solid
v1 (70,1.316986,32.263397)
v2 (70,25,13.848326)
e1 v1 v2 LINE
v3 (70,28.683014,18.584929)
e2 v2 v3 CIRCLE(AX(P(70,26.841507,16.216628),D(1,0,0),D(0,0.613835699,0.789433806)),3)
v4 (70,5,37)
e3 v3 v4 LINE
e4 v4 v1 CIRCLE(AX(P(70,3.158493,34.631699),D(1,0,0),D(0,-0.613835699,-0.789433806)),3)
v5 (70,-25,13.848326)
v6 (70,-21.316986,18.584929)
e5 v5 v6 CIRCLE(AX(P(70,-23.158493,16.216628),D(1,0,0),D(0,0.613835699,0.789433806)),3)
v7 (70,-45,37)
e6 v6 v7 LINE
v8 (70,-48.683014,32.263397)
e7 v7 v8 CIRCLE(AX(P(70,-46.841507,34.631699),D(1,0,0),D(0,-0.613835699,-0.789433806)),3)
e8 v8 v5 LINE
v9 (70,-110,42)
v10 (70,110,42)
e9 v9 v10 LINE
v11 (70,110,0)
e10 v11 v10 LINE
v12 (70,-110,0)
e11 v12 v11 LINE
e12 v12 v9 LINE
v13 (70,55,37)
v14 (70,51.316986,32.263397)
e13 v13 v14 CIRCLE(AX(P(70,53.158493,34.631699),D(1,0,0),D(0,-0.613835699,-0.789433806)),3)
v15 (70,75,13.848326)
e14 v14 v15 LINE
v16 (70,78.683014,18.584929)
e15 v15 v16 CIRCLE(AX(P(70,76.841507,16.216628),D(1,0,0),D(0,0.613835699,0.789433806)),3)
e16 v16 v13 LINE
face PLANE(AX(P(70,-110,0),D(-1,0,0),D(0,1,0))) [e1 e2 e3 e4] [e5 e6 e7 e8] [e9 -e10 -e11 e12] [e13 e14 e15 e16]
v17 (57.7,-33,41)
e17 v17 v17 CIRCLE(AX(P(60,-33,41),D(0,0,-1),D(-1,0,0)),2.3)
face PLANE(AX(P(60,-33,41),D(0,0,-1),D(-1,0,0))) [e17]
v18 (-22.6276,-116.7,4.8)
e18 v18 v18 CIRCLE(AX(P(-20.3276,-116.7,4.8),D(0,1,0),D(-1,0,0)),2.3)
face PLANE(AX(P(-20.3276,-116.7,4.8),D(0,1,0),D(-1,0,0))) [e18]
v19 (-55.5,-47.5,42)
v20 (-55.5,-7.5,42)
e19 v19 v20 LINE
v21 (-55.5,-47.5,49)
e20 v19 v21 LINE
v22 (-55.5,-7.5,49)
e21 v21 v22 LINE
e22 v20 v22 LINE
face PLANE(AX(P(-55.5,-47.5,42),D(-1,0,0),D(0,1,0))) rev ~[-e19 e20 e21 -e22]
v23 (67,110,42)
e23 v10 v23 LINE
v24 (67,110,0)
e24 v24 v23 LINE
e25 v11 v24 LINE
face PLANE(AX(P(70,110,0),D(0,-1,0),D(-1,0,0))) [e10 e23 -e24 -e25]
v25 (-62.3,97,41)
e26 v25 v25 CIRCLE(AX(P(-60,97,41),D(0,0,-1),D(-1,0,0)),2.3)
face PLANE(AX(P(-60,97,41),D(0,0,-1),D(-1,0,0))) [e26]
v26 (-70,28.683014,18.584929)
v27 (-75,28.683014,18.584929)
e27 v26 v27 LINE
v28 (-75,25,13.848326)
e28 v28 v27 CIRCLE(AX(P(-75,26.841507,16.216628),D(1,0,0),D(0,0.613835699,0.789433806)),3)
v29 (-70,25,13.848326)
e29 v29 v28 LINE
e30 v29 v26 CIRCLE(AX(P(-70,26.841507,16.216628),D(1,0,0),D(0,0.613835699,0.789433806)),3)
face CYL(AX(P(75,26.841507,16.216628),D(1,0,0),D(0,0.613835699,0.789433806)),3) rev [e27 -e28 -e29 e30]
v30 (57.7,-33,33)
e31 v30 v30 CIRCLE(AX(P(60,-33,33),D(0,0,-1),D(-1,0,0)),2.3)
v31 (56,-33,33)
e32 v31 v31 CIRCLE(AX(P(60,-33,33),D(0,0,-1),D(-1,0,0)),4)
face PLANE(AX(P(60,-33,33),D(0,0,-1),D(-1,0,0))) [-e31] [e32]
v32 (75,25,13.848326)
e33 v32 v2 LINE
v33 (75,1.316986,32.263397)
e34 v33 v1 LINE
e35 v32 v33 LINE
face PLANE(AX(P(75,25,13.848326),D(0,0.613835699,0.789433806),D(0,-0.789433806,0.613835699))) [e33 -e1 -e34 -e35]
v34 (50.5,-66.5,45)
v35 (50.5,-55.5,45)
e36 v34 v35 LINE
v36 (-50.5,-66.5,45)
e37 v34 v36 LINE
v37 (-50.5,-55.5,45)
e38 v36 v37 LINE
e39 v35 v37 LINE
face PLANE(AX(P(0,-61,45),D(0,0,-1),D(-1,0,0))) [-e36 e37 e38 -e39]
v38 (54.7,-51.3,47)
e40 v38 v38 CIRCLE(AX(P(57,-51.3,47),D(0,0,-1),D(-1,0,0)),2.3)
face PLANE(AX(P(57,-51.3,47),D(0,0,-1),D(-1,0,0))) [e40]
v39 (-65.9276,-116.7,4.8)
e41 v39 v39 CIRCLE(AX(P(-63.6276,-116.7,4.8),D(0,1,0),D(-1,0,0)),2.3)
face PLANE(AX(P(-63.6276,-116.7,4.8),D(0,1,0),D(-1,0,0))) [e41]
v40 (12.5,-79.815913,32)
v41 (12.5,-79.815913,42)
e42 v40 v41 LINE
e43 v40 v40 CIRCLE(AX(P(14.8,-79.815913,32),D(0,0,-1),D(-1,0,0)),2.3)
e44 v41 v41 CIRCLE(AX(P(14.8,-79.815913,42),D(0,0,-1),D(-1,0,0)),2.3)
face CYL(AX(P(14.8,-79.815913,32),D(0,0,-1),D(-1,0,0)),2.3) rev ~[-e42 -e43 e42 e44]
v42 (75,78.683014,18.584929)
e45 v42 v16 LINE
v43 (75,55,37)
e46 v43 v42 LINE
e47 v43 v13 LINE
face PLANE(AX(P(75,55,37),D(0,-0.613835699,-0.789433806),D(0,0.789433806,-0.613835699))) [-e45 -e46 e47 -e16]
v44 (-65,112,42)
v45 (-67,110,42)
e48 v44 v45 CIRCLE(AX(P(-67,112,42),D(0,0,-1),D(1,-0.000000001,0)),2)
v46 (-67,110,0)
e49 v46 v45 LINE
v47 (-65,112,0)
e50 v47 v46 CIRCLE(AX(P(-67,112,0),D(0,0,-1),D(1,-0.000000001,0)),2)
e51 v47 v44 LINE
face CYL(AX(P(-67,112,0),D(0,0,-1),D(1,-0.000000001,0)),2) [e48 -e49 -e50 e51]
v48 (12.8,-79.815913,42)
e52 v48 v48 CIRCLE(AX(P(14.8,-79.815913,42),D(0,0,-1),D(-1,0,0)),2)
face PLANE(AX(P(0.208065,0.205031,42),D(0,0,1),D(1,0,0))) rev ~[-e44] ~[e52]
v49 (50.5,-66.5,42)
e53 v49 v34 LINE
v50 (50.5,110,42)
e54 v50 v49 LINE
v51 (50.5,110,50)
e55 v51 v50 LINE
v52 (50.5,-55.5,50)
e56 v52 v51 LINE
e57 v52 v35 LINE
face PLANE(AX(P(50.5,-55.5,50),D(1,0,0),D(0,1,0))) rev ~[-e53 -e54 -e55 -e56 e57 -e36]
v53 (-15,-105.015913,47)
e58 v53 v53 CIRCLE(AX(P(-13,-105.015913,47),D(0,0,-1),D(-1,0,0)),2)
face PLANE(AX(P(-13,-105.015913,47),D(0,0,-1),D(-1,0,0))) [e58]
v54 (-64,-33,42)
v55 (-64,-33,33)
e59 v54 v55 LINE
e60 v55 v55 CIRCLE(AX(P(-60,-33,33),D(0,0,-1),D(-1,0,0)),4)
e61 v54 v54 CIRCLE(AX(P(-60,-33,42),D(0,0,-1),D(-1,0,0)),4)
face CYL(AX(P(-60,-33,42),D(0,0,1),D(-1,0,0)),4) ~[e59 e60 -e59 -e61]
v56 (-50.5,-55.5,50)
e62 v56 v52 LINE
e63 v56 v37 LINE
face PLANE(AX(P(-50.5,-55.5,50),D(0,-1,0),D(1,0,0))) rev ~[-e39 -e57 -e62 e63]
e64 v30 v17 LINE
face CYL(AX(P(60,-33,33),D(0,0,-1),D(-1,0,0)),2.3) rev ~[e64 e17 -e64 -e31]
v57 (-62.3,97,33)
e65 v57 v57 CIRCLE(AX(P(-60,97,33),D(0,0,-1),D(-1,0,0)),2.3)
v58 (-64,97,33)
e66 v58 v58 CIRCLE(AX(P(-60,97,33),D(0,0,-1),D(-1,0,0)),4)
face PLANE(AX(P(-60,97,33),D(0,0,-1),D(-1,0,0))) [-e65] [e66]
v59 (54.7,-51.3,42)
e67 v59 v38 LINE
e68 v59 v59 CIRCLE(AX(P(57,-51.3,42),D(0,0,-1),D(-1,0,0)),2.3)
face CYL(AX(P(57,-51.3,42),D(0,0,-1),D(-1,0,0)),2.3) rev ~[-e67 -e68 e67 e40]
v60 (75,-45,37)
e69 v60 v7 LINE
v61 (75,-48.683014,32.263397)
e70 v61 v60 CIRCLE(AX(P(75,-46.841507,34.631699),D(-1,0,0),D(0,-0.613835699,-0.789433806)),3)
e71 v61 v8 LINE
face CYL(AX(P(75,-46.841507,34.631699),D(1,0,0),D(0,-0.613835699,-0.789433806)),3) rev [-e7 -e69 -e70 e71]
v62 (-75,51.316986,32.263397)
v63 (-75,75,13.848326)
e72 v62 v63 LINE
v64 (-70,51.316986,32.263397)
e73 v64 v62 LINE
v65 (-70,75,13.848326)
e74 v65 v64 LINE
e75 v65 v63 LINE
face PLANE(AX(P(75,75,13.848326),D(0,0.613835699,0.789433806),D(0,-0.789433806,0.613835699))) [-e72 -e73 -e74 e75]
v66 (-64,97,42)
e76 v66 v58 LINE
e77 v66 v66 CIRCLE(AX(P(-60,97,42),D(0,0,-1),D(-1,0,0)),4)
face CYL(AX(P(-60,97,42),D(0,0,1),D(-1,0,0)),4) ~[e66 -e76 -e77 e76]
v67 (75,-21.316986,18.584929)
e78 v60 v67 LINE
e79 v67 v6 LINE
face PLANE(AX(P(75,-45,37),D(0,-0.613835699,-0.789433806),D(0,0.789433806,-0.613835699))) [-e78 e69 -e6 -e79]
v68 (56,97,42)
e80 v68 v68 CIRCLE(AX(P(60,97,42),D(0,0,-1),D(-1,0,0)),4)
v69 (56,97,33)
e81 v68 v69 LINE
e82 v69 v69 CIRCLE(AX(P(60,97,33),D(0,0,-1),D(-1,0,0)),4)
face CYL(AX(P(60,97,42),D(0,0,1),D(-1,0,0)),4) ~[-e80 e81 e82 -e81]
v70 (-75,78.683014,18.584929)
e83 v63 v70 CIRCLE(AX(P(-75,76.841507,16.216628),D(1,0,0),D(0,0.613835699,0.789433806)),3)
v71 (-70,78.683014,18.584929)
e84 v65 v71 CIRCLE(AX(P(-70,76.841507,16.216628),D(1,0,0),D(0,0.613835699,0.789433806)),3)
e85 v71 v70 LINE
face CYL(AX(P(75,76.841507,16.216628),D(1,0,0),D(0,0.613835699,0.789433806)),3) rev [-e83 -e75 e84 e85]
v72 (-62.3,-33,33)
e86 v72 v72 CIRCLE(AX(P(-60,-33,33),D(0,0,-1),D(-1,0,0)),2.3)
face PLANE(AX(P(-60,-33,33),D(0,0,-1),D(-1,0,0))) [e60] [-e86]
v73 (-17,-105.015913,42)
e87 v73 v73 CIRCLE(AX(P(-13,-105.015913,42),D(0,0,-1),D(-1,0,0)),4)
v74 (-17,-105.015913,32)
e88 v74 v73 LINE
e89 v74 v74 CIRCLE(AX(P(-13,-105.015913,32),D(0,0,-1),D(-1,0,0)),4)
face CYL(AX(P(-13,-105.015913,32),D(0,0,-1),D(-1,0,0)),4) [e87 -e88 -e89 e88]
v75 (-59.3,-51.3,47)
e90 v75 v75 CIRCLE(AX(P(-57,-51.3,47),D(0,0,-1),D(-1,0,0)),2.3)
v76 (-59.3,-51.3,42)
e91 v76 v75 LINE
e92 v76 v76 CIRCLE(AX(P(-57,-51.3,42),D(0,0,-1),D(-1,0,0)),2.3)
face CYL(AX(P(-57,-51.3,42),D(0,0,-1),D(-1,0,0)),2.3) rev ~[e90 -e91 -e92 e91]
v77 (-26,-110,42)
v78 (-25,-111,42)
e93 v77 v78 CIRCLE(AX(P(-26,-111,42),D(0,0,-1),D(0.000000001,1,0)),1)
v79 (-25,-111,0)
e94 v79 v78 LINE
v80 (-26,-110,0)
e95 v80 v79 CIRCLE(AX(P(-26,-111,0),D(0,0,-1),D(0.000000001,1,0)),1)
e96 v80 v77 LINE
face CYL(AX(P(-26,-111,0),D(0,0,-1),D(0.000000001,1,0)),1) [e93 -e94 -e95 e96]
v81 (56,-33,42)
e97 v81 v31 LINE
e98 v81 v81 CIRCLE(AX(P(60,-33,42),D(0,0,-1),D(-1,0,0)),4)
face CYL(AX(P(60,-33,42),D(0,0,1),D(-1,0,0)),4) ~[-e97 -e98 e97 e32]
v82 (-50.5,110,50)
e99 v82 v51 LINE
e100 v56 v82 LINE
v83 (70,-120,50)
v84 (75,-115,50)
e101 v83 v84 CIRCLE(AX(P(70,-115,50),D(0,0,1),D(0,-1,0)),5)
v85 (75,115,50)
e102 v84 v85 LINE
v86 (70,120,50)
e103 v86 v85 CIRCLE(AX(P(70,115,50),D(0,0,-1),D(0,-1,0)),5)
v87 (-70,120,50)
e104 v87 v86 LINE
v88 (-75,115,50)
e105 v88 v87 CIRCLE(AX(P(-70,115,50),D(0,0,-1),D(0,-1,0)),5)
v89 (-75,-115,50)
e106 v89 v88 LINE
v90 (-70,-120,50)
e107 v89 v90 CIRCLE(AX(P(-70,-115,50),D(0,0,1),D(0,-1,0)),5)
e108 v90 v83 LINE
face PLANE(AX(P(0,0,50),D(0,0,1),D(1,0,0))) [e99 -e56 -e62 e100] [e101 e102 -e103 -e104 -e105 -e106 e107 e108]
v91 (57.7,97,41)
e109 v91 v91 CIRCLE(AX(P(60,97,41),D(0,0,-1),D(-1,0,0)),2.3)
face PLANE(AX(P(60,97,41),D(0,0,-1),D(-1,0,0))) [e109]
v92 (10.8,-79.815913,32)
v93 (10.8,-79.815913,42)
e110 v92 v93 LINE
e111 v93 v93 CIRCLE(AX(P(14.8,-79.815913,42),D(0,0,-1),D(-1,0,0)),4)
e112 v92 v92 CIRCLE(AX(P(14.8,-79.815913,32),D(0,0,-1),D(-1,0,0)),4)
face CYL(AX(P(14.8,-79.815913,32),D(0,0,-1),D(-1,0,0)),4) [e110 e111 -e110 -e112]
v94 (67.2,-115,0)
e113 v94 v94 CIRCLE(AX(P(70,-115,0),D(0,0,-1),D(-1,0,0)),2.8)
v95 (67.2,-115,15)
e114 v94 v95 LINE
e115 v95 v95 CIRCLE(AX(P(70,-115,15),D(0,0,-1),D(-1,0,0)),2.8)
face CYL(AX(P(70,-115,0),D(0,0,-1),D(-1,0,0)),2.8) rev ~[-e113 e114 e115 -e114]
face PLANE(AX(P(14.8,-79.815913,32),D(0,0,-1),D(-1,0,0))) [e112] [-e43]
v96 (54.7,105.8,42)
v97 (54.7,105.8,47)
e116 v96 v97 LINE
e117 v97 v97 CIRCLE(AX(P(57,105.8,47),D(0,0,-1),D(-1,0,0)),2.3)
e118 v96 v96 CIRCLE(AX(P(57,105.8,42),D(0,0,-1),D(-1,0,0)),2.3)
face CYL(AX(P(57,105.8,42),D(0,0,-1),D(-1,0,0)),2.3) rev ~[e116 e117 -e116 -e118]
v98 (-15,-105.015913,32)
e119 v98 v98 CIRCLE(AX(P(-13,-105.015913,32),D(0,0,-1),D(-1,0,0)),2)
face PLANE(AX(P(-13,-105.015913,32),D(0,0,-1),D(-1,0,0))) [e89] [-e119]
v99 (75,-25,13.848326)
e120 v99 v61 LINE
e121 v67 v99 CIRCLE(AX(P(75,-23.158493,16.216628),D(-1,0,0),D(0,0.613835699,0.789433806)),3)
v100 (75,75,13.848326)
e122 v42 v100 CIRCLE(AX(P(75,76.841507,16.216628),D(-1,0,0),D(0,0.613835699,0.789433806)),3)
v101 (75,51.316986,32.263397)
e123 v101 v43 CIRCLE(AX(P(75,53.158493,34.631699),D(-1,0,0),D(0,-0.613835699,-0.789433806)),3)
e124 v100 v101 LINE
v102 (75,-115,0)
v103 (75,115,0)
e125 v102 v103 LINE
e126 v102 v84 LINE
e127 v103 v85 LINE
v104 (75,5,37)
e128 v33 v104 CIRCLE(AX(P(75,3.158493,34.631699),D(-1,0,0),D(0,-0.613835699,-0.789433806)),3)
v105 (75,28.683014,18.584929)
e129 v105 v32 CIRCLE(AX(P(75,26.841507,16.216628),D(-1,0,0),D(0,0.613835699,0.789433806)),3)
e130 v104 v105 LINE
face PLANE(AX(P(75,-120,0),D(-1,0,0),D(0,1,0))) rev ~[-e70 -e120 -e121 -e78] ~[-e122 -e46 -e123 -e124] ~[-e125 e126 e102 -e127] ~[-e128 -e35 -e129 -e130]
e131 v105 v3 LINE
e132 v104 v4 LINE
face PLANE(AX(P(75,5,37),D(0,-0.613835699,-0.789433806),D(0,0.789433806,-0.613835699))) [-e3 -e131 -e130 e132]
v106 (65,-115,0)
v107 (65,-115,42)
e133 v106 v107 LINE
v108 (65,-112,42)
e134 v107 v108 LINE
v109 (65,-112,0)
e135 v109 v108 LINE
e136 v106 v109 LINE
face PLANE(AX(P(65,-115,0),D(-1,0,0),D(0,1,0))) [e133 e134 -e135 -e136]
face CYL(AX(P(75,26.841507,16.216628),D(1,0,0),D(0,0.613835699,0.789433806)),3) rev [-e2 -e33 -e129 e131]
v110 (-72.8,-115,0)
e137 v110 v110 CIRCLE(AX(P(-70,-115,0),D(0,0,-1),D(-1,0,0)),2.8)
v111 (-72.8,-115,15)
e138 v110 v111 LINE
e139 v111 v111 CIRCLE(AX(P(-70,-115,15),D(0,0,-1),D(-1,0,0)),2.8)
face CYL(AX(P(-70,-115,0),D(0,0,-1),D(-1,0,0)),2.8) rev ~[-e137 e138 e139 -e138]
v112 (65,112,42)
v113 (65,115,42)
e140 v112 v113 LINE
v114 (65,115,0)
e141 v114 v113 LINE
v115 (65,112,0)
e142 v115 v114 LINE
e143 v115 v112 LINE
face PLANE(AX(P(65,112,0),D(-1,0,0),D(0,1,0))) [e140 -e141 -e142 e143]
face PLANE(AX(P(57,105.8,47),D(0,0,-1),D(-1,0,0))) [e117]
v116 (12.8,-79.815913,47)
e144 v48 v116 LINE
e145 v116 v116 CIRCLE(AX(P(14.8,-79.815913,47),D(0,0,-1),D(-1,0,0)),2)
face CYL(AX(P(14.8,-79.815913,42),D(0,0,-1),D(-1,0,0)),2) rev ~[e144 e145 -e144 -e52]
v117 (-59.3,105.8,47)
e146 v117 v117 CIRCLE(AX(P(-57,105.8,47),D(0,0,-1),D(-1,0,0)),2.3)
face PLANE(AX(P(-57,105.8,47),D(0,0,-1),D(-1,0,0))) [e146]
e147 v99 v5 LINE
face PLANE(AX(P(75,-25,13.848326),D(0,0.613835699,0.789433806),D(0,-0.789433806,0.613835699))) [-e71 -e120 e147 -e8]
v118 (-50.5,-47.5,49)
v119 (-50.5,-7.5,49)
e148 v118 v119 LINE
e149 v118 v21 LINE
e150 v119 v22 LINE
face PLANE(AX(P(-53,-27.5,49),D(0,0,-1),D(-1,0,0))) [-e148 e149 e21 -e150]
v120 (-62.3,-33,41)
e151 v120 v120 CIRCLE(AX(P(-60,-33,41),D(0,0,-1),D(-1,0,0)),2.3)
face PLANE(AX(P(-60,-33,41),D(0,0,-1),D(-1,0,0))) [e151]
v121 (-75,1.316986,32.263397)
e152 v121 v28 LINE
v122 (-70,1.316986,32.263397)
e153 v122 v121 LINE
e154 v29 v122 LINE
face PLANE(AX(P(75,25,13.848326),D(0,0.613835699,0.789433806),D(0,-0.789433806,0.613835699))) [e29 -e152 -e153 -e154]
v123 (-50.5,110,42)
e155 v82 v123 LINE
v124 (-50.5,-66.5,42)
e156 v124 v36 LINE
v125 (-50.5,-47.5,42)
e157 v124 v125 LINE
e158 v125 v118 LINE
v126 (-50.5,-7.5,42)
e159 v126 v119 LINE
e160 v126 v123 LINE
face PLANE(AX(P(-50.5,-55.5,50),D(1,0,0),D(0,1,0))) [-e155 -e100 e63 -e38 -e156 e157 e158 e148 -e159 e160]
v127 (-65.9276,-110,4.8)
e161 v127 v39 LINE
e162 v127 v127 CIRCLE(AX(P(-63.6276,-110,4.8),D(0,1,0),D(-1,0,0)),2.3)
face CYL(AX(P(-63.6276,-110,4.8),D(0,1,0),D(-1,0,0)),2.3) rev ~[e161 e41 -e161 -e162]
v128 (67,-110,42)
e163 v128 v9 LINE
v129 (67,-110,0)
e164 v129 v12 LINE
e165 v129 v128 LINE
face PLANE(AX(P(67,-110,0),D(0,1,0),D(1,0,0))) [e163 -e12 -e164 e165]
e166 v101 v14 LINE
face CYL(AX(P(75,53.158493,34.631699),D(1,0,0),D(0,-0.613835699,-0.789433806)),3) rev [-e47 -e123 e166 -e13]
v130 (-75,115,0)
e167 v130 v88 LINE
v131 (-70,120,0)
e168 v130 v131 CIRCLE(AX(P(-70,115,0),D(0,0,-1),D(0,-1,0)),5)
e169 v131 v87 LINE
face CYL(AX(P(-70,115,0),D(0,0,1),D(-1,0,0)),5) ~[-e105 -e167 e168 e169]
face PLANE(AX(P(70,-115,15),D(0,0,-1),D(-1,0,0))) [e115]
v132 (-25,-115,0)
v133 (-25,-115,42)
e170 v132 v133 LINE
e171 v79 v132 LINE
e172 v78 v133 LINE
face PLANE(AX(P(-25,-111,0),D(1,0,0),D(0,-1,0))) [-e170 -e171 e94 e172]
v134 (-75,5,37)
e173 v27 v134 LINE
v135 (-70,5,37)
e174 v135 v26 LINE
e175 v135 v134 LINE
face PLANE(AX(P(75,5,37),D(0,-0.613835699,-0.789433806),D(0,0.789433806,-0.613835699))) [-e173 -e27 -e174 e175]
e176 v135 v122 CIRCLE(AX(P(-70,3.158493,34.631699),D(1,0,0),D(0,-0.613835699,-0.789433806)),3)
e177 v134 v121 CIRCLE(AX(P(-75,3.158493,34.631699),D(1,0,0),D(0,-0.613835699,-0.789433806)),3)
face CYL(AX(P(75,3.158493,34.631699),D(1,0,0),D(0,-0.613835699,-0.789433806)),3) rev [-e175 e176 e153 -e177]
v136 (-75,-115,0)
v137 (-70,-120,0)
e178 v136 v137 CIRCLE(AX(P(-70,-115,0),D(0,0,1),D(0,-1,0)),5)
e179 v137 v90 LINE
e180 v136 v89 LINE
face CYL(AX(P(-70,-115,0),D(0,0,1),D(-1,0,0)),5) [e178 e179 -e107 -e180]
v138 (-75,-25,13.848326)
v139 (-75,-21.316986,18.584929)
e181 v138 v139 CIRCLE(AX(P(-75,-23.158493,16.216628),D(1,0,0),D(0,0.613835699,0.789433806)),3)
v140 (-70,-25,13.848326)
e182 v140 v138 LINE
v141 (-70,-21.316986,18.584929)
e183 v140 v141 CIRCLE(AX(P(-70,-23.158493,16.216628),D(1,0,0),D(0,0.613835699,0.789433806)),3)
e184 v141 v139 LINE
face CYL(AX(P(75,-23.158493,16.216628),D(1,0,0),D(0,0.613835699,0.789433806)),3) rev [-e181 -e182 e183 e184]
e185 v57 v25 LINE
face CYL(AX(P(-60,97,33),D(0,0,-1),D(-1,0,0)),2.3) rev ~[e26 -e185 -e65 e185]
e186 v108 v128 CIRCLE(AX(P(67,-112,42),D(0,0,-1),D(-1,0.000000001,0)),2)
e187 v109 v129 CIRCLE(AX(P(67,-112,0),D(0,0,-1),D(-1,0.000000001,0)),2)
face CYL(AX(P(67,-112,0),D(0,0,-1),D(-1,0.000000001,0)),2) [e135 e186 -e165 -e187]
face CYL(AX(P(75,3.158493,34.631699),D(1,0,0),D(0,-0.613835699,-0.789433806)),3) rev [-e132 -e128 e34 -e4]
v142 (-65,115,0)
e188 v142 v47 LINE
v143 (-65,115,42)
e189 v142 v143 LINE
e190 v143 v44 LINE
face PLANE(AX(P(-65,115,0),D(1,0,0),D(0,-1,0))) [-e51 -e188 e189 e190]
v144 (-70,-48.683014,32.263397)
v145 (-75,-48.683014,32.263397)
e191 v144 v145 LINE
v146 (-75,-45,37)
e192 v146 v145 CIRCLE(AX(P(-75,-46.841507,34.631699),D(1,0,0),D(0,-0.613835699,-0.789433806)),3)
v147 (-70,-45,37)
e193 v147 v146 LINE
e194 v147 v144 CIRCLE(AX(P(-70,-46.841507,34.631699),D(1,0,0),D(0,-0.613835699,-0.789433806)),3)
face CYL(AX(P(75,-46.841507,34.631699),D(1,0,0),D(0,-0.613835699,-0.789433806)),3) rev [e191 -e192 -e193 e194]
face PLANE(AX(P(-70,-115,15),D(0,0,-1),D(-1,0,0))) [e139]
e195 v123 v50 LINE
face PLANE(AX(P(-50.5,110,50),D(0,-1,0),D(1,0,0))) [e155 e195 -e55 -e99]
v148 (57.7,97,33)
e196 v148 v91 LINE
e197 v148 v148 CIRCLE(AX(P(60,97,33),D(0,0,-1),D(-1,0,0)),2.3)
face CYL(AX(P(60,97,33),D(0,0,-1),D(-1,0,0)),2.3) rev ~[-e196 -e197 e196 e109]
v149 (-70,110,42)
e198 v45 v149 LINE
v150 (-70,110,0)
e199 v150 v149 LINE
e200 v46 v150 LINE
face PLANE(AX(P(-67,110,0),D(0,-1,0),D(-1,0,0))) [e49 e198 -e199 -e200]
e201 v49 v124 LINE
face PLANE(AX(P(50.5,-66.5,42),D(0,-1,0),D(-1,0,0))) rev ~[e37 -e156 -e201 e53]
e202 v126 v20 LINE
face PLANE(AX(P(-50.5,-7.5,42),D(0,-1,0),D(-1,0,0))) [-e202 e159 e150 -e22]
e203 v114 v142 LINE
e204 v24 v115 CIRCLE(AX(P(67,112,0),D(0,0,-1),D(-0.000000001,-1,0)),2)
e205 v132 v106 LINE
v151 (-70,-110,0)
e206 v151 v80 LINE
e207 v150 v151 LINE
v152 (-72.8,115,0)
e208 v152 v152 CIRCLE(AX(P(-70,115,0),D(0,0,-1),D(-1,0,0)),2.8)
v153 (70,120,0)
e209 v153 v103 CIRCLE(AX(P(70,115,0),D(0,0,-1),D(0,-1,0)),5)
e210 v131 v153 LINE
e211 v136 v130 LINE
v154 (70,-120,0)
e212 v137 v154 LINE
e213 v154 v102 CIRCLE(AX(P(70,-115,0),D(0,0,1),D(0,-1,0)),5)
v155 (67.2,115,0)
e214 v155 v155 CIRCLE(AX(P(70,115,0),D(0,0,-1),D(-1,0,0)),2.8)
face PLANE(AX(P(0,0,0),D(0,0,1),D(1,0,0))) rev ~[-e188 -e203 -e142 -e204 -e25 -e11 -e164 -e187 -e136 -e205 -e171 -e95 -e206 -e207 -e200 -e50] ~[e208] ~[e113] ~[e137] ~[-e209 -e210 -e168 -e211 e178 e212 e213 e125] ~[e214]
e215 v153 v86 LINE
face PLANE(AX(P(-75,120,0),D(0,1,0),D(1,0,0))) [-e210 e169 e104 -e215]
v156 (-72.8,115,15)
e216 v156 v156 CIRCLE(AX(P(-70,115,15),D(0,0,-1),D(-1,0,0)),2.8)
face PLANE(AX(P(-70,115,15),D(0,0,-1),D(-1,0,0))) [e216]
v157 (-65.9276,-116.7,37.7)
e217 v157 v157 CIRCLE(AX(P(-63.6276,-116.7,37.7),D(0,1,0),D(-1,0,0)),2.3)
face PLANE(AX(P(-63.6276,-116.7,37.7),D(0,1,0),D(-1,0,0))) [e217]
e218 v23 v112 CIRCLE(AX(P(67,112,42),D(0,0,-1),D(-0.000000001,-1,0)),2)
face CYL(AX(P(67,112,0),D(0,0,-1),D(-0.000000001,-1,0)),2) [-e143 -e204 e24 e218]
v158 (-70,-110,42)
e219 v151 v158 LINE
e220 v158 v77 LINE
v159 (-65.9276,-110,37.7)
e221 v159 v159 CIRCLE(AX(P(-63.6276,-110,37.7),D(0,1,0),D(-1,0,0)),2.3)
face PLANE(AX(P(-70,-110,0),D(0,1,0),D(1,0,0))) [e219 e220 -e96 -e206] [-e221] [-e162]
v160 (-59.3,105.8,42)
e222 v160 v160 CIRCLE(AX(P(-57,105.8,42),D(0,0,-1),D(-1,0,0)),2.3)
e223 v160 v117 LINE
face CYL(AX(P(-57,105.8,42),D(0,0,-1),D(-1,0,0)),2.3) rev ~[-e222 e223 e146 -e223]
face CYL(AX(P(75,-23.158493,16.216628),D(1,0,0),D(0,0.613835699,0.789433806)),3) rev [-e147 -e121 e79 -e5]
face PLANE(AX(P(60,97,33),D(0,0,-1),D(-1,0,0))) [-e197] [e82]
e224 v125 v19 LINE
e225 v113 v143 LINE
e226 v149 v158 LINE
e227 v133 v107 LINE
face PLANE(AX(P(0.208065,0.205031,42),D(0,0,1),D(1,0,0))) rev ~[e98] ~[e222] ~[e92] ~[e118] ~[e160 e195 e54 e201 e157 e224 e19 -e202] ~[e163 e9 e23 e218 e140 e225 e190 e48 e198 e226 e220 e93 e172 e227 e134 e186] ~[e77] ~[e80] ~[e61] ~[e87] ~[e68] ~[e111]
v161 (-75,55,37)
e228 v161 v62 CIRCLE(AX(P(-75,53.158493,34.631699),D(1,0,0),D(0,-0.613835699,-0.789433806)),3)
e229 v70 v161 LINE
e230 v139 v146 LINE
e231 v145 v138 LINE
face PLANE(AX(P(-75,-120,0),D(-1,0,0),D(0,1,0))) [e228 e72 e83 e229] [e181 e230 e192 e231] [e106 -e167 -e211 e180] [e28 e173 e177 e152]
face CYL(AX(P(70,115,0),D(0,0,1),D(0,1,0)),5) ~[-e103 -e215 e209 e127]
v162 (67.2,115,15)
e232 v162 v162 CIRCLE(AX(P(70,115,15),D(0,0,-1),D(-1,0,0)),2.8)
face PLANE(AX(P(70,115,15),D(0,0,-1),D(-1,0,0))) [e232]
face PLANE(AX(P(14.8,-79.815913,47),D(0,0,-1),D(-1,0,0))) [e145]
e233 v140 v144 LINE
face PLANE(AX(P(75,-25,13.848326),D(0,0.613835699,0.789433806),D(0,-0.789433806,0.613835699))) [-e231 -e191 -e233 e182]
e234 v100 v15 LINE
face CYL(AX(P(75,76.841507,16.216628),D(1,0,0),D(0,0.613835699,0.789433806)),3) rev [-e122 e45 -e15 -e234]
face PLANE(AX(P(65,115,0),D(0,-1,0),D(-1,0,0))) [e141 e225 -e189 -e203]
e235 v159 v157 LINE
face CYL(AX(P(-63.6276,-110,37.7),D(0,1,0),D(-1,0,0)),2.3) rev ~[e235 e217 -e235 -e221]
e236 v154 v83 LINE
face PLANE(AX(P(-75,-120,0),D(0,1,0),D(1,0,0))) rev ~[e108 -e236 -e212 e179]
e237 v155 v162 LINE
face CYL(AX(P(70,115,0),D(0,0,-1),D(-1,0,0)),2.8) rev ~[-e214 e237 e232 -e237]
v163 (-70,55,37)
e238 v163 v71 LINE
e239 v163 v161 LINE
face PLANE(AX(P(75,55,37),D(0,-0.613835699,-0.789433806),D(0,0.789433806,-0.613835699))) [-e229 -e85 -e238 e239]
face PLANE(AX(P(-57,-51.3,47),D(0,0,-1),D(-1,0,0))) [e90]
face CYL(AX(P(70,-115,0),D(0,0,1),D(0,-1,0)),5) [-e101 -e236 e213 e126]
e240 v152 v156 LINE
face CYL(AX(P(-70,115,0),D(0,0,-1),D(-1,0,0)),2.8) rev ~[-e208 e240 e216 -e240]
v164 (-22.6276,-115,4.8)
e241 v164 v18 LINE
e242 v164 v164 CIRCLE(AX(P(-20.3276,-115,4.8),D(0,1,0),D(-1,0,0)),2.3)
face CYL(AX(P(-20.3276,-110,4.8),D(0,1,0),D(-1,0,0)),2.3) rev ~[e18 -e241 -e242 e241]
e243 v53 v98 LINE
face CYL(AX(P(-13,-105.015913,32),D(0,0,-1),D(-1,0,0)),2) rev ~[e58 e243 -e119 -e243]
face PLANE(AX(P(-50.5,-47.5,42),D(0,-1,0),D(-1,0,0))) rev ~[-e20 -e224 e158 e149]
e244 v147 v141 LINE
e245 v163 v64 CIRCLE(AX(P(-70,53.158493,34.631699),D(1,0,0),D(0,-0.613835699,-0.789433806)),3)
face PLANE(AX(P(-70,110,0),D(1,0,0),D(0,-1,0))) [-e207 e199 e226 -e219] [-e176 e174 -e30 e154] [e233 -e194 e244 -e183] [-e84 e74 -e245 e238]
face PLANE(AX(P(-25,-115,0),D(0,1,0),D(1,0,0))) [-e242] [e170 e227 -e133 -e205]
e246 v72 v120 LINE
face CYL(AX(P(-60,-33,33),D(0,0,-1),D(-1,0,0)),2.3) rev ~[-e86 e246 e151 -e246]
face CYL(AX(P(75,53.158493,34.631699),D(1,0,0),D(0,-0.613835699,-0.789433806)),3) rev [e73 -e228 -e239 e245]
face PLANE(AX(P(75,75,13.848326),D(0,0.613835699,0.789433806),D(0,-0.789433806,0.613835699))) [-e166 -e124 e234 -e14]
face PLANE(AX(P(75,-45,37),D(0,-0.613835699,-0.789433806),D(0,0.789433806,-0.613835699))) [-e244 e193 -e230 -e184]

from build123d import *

# Parameters (mm, degrees)
ESQUISSE1_W              = 150
ESQUISSE1_H              = 240
BOSS_EXTRU_1_DEPTH       = 50
ENL_V_MAT_EXTRU_1_DEPTH  = 42
ESQUISSE3_W              = 101
ESQUISSE3_H              = 165.5
ENL_V_MAT_EXTRU_2_DEPTH  = 151.083310198
CONG_1_R                 = 5
ESQUISSE4_R              = 2.8
ENL_V_MAT_EXTRU_3_DEPTH  = 15
ENL_V_MAT_EXTRU_4_DEPTH  = 199.494332413
ESQUISSE7_R              = 2.3
ENL_V_MAT_EXTRU_5_DEPTH  = 5
ESQUISSE6_R              = 2
ENL_V_MAT_EXTRU_6_DEPTH  = 5
ESQUISSE8_W              = 5
ESQUISSE8_H              = 40
ENL_V_MAT_EXTRU_7_DEPTH  = 7
ESQUISSE9_R              = 4
BOSS_EXTRU_2_DEPTH       = 9
ESQUISSE10_R             = 2.3
ENL_V_MAT_EXTRU_8_DEPTH  = 8
ESQUISSE11_W             = 101
ESQUISSE11_H             = 11
ENL_V_MAT_EXTRU_9_DEPTH  = 3
BOSS_EXTRU_3_START       = 10
ESQUISSE13_R             = 4
ESQUISSE13_R_2           = 2.3
ESQUISSE13_R_3           = 2
BOSS_EXTRU_3_DEPTH       = 10
ESQUISSE14_R             = 2.3
ENL_V_MAT_EXTRU_10_DEPTH = 6.7


with BuildPart() as part:
    # Esquisse1 → Boss.-Extru.1 (new body)
    with BuildSketch(Plane.XY):
        Rectangle(ESQUISSE1_W, ESQUISSE1_H)
    extrude(amount=BOSS_EXTRU_1_DEPTH)

    # Esquisse2 → Enlèv. mat.-Extru.1 (cut)
    with BuildSketch(Plane(origin=(0, 0, 0), x_dir=(-1, 0, 0), z_dir=(0, 0, -1))):
        with BuildLine():
            Line((-70, -110), (-70, 110))
            Line((-70, 110), (-67, 110))
            ThreePointArc((-67, 110), (-65.585786438, 110.585786438), (-65, 112))
            Line((-65, 112), (-65, 115))
            Line((-65, 115), (65, 115))
            Line((65, 115), (65, 112))
            ThreePointArc((65, 112), (65.585786438, 110.585786438), (67, 110))
            Line((67, 110), (70, 110))
            Line((70, 110), (70, -110))
            Line((70, -110), (26, -110))
            ThreePointArc((26, -110), (25.292893219, -110.292893219), (25, -111))
            Line((25, -111), (25, -115))
            Line((25, -115), (-65, -115))
            Line((-65, -115), (-65, -112))
            ThreePointArc((-65, -112), (-65.585786438, -110.585786438), (-67, -110))
            Line((-67, -110), (-70, -110))
        make_face()
    extrude(amount=-ENL_V_MAT_EXTRU_1_DEPTH, mode=Mode.SUBTRACT)

    # Esquisse3 → Enlèv. mat.-Extru.2 (cut, through all)
    with BuildSketch(Plane.XY.offset(50)):
        with Locations((0, 27.25)):
            Rectangle(ESQUISSE3_W, ESQUISSE3_H)
    extrude(amount=-ENL_V_MAT_EXTRU_2_DEPTH, mode=Mode.SUBTRACT)

    # Congé1
    cong_1_edges = [part.edges().sort_by_distance(p)[0] for p in [
        (75, -120, 25),
        (-75, -120, 25),
        (-75, 120, 25),
        (75, 120, 25),
    ]]
    fillet(cong_1_edges, radius=CONG_1_R)

    # Esquisse4 → Enlèv. mat.-Extru.3 (cut)
    with BuildSketch(Plane(origin=(0, 0, 0), x_dir=(-1, 0, 0), z_dir=(0, 0, -1))):
        with Locations((-70, 115)):
            Circle(ESQUISSE4_R)
        with Locations((70, 115)):
            Circle(ESQUISSE4_R)
        with Locations((70, -115)):
            Circle(ESQUISSE4_R)
        with Locations((-70, -115)):
            Circle(ESQUISSE4_R)
    extrude(amount=-ENL_V_MAT_EXTRU_3_DEPTH, mode=Mode.SUBTRACT)

    # Esquisse5 → Enlèv. mat.-Extru.4 (cut, through all)
    with BuildSketch(Plane(origin=(75, 0, 0), x_dir=(0, 0, -1), z_dir=(1, 0, 0))):
        with BuildLine():
            Line((-37, 55), (-18.584929033, 78.683014193))
            ThreePointArc((-18.584929033, 78.683014193), (-14.375120517, 79.209808516), (-13.848326194, 75))
            Line((-13.848326194, 75), (-32.263397161, 51.316985807))
            ThreePointArc((-32.263397161, 51.316985807), (-36.473205677, 50.790191484), (-37, 55))
        make_face()
        with BuildLine():
            Line((-37, 5), (-18.584929033, 28.683014193))
            ThreePointArc((-18.584929033, 28.683014193), (-14.375120517, 29.209808516), (-13.848326194, 25))
            Line((-13.848326194, 25), (-32.263397161, 1.316985807))
            ThreePointArc((-32.263397161, 1.316985807), (-36.473205677, 0.790191484), (-37, 5))
        make_face()
        with BuildLine():
            Line((-37, -45), (-18.584929033, -21.316985807))
            ThreePointArc((-18.584929033, -21.316985807), (-14.375120517, -20.790191484), (-13.848326194, -25))
            Line((-13.848326194, -25), (-32.263397161, -48.683014193))
            ThreePointArc((-32.263397161, -48.683014193), (-36.473205677, -49.209808516), (-37, -45))
        make_face()
    extrude(amount=-ENL_V_MAT_EXTRU_4_DEPTH, mode=Mode.SUBTRACT)

    # Esquisse7 → Enlèv. mat.-Extru.5 (cut)
    with BuildSketch(Plane(origin=(0, 0, 42), x_dir=(-1, 0, 0), z_dir=(0, 0, -1))):
        with Locations((-57, 105.8)):
            Circle(ESQUISSE7_R)
        with Locations((-57, -51.3)):
            Circle(ESQUISSE7_R)
        with Locations((57, 105.8)):
            Circle(ESQUISSE7_R)
        with Locations((57, -51.3)):
            Circle(ESQUISSE7_R)
    extrude(amount=-ENL_V_MAT_EXTRU_5_DEPTH, mode=Mode.SUBTRACT)

    # Esquisse6 → Enlèv. mat.-Extru.6 (cut)
    with BuildSketch(Plane(origin=(0, 0, 42), x_dir=(-1, 0, 0), z_dir=(0, 0, -1))):
        with Locations((-14.8, -79.815913119)):
            Circle(ESQUISSE6_R)
        with Locations((13, -105.015913119)):
            Circle(ESQUISSE6_R)
    extrude(amount=-ENL_V_MAT_EXTRU_6_DEPTH, mode=Mode.SUBTRACT)

    # Esquisse8 → Enlèv. mat.-Extru.7 (cut)
    with BuildSketch(Plane(origin=(0, 0, 42), x_dir=(-1, 0, 0), z_dir=(0, 0, -1))):
        with Locations((53, -27.5)):
            Rectangle(ESQUISSE8_W, ESQUISSE8_H)
    extrude(amount=-ENL_V_MAT_EXTRU_7_DEPTH, mode=Mode.SUBTRACT)

    # Esquisse9 → Boss.-Extru.2 (add)
    with BuildSketch(Plane(origin=(0, 0, 42), x_dir=(-1, 0, 0), z_dir=(0, 0, -1))):
        with Locations((-60, 97)):
            Circle(ESQUISSE9_R)
        with Locations((60, 97)):
            Circle(ESQUISSE9_R)
        with Locations((60, -33)):
            Circle(ESQUISSE9_R)
        with Locations((-60, -33)):
            Circle(ESQUISSE9_R)
    extrude(amount=BOSS_EXTRU_2_DEPTH)

    # Esquisse10 → Enlèv. mat.-Extru.8 (cut)
    with BuildSketch(Plane(origin=(0, 0, 33), x_dir=(-1, 0, 0), z_dir=(0, 0, -1))):
        with Locations((-60, 97)):
            Circle(ESQUISSE10_R)
        with Locations((60, 97)):
            Circle(ESQUISSE10_R)
        with Locations((60, -33)):
            Circle(ESQUISSE10_R)
        with Locations((-60, -33)):
            Circle(ESQUISSE10_R)
    extrude(amount=-ENL_V_MAT_EXTRU_8_DEPTH, mode=Mode.SUBTRACT)

    # Esquisse11 → Enlèv. mat.-Extru.9 (cut)
    with BuildSketch(Plane(origin=(0, 0, 42), x_dir=(-1, 0, 0), z_dir=(0, 0, -1))):
        with Locations((0, -61)):
            Rectangle(ESQUISSE11_W, ESQUISSE11_H)
    extrude(amount=-ENL_V_MAT_EXTRU_9_DEPTH, mode=Mode.SUBTRACT)

    # Esquisse13 → Boss.-Extru.3 (add)
    # profile 1 of 2: a face of its own
    with BuildSketch(Plane(origin=(0, 0, 42), x_dir=(-1, 0, 0), z_dir=(0, 0, -1)).offset(BOSS_EXTRU_3_START)):
        with Locations((-14.8, -79.815913119)):
            Circle(ESQUISSE13_R)
        with Locations((-14.8, -79.815913119)):
            Circle(ESQUISSE13_R_2, mode=Mode.SUBTRACT)
    # profile 2 of 2: a face of its own
    with BuildSketch(Plane(origin=(0, 0, 42), x_dir=(-1, 0, 0), z_dir=(0, 0, -1)).offset(BOSS_EXTRU_3_START)):
        with Locations((13, -105.015913119)):
            Circle(ESQUISSE13_R)
        with Locations((13, -105.015913119)):
            Circle(ESQUISSE13_R_3, mode=Mode.SUBTRACT)
    extrude(amount=-BOSS_EXTRU_3_DEPTH)

    # Esquisse14 → Enlèv. mat.-Extru.10 (cut)
    with BuildSketch(Plane(origin=(0, -110, 0), x_dir=(1, 0, 0), z_dir=(0, 1, 0))):
        with Locations((-63.627600244, -37.7)):
            Circle(ESQUISSE14_R)
        with Locations((-63.627600244, -4.8)):
            Circle(ESQUISSE14_R)
        with Locations((-20.327600244, -4.8)):
            Circle(ESQUISSE14_R)
    extrude(amount=-ENL_V_MAT_EXTRU_10_DEPTH, mode=Mode.SUBTRACT)


solid = part.part
